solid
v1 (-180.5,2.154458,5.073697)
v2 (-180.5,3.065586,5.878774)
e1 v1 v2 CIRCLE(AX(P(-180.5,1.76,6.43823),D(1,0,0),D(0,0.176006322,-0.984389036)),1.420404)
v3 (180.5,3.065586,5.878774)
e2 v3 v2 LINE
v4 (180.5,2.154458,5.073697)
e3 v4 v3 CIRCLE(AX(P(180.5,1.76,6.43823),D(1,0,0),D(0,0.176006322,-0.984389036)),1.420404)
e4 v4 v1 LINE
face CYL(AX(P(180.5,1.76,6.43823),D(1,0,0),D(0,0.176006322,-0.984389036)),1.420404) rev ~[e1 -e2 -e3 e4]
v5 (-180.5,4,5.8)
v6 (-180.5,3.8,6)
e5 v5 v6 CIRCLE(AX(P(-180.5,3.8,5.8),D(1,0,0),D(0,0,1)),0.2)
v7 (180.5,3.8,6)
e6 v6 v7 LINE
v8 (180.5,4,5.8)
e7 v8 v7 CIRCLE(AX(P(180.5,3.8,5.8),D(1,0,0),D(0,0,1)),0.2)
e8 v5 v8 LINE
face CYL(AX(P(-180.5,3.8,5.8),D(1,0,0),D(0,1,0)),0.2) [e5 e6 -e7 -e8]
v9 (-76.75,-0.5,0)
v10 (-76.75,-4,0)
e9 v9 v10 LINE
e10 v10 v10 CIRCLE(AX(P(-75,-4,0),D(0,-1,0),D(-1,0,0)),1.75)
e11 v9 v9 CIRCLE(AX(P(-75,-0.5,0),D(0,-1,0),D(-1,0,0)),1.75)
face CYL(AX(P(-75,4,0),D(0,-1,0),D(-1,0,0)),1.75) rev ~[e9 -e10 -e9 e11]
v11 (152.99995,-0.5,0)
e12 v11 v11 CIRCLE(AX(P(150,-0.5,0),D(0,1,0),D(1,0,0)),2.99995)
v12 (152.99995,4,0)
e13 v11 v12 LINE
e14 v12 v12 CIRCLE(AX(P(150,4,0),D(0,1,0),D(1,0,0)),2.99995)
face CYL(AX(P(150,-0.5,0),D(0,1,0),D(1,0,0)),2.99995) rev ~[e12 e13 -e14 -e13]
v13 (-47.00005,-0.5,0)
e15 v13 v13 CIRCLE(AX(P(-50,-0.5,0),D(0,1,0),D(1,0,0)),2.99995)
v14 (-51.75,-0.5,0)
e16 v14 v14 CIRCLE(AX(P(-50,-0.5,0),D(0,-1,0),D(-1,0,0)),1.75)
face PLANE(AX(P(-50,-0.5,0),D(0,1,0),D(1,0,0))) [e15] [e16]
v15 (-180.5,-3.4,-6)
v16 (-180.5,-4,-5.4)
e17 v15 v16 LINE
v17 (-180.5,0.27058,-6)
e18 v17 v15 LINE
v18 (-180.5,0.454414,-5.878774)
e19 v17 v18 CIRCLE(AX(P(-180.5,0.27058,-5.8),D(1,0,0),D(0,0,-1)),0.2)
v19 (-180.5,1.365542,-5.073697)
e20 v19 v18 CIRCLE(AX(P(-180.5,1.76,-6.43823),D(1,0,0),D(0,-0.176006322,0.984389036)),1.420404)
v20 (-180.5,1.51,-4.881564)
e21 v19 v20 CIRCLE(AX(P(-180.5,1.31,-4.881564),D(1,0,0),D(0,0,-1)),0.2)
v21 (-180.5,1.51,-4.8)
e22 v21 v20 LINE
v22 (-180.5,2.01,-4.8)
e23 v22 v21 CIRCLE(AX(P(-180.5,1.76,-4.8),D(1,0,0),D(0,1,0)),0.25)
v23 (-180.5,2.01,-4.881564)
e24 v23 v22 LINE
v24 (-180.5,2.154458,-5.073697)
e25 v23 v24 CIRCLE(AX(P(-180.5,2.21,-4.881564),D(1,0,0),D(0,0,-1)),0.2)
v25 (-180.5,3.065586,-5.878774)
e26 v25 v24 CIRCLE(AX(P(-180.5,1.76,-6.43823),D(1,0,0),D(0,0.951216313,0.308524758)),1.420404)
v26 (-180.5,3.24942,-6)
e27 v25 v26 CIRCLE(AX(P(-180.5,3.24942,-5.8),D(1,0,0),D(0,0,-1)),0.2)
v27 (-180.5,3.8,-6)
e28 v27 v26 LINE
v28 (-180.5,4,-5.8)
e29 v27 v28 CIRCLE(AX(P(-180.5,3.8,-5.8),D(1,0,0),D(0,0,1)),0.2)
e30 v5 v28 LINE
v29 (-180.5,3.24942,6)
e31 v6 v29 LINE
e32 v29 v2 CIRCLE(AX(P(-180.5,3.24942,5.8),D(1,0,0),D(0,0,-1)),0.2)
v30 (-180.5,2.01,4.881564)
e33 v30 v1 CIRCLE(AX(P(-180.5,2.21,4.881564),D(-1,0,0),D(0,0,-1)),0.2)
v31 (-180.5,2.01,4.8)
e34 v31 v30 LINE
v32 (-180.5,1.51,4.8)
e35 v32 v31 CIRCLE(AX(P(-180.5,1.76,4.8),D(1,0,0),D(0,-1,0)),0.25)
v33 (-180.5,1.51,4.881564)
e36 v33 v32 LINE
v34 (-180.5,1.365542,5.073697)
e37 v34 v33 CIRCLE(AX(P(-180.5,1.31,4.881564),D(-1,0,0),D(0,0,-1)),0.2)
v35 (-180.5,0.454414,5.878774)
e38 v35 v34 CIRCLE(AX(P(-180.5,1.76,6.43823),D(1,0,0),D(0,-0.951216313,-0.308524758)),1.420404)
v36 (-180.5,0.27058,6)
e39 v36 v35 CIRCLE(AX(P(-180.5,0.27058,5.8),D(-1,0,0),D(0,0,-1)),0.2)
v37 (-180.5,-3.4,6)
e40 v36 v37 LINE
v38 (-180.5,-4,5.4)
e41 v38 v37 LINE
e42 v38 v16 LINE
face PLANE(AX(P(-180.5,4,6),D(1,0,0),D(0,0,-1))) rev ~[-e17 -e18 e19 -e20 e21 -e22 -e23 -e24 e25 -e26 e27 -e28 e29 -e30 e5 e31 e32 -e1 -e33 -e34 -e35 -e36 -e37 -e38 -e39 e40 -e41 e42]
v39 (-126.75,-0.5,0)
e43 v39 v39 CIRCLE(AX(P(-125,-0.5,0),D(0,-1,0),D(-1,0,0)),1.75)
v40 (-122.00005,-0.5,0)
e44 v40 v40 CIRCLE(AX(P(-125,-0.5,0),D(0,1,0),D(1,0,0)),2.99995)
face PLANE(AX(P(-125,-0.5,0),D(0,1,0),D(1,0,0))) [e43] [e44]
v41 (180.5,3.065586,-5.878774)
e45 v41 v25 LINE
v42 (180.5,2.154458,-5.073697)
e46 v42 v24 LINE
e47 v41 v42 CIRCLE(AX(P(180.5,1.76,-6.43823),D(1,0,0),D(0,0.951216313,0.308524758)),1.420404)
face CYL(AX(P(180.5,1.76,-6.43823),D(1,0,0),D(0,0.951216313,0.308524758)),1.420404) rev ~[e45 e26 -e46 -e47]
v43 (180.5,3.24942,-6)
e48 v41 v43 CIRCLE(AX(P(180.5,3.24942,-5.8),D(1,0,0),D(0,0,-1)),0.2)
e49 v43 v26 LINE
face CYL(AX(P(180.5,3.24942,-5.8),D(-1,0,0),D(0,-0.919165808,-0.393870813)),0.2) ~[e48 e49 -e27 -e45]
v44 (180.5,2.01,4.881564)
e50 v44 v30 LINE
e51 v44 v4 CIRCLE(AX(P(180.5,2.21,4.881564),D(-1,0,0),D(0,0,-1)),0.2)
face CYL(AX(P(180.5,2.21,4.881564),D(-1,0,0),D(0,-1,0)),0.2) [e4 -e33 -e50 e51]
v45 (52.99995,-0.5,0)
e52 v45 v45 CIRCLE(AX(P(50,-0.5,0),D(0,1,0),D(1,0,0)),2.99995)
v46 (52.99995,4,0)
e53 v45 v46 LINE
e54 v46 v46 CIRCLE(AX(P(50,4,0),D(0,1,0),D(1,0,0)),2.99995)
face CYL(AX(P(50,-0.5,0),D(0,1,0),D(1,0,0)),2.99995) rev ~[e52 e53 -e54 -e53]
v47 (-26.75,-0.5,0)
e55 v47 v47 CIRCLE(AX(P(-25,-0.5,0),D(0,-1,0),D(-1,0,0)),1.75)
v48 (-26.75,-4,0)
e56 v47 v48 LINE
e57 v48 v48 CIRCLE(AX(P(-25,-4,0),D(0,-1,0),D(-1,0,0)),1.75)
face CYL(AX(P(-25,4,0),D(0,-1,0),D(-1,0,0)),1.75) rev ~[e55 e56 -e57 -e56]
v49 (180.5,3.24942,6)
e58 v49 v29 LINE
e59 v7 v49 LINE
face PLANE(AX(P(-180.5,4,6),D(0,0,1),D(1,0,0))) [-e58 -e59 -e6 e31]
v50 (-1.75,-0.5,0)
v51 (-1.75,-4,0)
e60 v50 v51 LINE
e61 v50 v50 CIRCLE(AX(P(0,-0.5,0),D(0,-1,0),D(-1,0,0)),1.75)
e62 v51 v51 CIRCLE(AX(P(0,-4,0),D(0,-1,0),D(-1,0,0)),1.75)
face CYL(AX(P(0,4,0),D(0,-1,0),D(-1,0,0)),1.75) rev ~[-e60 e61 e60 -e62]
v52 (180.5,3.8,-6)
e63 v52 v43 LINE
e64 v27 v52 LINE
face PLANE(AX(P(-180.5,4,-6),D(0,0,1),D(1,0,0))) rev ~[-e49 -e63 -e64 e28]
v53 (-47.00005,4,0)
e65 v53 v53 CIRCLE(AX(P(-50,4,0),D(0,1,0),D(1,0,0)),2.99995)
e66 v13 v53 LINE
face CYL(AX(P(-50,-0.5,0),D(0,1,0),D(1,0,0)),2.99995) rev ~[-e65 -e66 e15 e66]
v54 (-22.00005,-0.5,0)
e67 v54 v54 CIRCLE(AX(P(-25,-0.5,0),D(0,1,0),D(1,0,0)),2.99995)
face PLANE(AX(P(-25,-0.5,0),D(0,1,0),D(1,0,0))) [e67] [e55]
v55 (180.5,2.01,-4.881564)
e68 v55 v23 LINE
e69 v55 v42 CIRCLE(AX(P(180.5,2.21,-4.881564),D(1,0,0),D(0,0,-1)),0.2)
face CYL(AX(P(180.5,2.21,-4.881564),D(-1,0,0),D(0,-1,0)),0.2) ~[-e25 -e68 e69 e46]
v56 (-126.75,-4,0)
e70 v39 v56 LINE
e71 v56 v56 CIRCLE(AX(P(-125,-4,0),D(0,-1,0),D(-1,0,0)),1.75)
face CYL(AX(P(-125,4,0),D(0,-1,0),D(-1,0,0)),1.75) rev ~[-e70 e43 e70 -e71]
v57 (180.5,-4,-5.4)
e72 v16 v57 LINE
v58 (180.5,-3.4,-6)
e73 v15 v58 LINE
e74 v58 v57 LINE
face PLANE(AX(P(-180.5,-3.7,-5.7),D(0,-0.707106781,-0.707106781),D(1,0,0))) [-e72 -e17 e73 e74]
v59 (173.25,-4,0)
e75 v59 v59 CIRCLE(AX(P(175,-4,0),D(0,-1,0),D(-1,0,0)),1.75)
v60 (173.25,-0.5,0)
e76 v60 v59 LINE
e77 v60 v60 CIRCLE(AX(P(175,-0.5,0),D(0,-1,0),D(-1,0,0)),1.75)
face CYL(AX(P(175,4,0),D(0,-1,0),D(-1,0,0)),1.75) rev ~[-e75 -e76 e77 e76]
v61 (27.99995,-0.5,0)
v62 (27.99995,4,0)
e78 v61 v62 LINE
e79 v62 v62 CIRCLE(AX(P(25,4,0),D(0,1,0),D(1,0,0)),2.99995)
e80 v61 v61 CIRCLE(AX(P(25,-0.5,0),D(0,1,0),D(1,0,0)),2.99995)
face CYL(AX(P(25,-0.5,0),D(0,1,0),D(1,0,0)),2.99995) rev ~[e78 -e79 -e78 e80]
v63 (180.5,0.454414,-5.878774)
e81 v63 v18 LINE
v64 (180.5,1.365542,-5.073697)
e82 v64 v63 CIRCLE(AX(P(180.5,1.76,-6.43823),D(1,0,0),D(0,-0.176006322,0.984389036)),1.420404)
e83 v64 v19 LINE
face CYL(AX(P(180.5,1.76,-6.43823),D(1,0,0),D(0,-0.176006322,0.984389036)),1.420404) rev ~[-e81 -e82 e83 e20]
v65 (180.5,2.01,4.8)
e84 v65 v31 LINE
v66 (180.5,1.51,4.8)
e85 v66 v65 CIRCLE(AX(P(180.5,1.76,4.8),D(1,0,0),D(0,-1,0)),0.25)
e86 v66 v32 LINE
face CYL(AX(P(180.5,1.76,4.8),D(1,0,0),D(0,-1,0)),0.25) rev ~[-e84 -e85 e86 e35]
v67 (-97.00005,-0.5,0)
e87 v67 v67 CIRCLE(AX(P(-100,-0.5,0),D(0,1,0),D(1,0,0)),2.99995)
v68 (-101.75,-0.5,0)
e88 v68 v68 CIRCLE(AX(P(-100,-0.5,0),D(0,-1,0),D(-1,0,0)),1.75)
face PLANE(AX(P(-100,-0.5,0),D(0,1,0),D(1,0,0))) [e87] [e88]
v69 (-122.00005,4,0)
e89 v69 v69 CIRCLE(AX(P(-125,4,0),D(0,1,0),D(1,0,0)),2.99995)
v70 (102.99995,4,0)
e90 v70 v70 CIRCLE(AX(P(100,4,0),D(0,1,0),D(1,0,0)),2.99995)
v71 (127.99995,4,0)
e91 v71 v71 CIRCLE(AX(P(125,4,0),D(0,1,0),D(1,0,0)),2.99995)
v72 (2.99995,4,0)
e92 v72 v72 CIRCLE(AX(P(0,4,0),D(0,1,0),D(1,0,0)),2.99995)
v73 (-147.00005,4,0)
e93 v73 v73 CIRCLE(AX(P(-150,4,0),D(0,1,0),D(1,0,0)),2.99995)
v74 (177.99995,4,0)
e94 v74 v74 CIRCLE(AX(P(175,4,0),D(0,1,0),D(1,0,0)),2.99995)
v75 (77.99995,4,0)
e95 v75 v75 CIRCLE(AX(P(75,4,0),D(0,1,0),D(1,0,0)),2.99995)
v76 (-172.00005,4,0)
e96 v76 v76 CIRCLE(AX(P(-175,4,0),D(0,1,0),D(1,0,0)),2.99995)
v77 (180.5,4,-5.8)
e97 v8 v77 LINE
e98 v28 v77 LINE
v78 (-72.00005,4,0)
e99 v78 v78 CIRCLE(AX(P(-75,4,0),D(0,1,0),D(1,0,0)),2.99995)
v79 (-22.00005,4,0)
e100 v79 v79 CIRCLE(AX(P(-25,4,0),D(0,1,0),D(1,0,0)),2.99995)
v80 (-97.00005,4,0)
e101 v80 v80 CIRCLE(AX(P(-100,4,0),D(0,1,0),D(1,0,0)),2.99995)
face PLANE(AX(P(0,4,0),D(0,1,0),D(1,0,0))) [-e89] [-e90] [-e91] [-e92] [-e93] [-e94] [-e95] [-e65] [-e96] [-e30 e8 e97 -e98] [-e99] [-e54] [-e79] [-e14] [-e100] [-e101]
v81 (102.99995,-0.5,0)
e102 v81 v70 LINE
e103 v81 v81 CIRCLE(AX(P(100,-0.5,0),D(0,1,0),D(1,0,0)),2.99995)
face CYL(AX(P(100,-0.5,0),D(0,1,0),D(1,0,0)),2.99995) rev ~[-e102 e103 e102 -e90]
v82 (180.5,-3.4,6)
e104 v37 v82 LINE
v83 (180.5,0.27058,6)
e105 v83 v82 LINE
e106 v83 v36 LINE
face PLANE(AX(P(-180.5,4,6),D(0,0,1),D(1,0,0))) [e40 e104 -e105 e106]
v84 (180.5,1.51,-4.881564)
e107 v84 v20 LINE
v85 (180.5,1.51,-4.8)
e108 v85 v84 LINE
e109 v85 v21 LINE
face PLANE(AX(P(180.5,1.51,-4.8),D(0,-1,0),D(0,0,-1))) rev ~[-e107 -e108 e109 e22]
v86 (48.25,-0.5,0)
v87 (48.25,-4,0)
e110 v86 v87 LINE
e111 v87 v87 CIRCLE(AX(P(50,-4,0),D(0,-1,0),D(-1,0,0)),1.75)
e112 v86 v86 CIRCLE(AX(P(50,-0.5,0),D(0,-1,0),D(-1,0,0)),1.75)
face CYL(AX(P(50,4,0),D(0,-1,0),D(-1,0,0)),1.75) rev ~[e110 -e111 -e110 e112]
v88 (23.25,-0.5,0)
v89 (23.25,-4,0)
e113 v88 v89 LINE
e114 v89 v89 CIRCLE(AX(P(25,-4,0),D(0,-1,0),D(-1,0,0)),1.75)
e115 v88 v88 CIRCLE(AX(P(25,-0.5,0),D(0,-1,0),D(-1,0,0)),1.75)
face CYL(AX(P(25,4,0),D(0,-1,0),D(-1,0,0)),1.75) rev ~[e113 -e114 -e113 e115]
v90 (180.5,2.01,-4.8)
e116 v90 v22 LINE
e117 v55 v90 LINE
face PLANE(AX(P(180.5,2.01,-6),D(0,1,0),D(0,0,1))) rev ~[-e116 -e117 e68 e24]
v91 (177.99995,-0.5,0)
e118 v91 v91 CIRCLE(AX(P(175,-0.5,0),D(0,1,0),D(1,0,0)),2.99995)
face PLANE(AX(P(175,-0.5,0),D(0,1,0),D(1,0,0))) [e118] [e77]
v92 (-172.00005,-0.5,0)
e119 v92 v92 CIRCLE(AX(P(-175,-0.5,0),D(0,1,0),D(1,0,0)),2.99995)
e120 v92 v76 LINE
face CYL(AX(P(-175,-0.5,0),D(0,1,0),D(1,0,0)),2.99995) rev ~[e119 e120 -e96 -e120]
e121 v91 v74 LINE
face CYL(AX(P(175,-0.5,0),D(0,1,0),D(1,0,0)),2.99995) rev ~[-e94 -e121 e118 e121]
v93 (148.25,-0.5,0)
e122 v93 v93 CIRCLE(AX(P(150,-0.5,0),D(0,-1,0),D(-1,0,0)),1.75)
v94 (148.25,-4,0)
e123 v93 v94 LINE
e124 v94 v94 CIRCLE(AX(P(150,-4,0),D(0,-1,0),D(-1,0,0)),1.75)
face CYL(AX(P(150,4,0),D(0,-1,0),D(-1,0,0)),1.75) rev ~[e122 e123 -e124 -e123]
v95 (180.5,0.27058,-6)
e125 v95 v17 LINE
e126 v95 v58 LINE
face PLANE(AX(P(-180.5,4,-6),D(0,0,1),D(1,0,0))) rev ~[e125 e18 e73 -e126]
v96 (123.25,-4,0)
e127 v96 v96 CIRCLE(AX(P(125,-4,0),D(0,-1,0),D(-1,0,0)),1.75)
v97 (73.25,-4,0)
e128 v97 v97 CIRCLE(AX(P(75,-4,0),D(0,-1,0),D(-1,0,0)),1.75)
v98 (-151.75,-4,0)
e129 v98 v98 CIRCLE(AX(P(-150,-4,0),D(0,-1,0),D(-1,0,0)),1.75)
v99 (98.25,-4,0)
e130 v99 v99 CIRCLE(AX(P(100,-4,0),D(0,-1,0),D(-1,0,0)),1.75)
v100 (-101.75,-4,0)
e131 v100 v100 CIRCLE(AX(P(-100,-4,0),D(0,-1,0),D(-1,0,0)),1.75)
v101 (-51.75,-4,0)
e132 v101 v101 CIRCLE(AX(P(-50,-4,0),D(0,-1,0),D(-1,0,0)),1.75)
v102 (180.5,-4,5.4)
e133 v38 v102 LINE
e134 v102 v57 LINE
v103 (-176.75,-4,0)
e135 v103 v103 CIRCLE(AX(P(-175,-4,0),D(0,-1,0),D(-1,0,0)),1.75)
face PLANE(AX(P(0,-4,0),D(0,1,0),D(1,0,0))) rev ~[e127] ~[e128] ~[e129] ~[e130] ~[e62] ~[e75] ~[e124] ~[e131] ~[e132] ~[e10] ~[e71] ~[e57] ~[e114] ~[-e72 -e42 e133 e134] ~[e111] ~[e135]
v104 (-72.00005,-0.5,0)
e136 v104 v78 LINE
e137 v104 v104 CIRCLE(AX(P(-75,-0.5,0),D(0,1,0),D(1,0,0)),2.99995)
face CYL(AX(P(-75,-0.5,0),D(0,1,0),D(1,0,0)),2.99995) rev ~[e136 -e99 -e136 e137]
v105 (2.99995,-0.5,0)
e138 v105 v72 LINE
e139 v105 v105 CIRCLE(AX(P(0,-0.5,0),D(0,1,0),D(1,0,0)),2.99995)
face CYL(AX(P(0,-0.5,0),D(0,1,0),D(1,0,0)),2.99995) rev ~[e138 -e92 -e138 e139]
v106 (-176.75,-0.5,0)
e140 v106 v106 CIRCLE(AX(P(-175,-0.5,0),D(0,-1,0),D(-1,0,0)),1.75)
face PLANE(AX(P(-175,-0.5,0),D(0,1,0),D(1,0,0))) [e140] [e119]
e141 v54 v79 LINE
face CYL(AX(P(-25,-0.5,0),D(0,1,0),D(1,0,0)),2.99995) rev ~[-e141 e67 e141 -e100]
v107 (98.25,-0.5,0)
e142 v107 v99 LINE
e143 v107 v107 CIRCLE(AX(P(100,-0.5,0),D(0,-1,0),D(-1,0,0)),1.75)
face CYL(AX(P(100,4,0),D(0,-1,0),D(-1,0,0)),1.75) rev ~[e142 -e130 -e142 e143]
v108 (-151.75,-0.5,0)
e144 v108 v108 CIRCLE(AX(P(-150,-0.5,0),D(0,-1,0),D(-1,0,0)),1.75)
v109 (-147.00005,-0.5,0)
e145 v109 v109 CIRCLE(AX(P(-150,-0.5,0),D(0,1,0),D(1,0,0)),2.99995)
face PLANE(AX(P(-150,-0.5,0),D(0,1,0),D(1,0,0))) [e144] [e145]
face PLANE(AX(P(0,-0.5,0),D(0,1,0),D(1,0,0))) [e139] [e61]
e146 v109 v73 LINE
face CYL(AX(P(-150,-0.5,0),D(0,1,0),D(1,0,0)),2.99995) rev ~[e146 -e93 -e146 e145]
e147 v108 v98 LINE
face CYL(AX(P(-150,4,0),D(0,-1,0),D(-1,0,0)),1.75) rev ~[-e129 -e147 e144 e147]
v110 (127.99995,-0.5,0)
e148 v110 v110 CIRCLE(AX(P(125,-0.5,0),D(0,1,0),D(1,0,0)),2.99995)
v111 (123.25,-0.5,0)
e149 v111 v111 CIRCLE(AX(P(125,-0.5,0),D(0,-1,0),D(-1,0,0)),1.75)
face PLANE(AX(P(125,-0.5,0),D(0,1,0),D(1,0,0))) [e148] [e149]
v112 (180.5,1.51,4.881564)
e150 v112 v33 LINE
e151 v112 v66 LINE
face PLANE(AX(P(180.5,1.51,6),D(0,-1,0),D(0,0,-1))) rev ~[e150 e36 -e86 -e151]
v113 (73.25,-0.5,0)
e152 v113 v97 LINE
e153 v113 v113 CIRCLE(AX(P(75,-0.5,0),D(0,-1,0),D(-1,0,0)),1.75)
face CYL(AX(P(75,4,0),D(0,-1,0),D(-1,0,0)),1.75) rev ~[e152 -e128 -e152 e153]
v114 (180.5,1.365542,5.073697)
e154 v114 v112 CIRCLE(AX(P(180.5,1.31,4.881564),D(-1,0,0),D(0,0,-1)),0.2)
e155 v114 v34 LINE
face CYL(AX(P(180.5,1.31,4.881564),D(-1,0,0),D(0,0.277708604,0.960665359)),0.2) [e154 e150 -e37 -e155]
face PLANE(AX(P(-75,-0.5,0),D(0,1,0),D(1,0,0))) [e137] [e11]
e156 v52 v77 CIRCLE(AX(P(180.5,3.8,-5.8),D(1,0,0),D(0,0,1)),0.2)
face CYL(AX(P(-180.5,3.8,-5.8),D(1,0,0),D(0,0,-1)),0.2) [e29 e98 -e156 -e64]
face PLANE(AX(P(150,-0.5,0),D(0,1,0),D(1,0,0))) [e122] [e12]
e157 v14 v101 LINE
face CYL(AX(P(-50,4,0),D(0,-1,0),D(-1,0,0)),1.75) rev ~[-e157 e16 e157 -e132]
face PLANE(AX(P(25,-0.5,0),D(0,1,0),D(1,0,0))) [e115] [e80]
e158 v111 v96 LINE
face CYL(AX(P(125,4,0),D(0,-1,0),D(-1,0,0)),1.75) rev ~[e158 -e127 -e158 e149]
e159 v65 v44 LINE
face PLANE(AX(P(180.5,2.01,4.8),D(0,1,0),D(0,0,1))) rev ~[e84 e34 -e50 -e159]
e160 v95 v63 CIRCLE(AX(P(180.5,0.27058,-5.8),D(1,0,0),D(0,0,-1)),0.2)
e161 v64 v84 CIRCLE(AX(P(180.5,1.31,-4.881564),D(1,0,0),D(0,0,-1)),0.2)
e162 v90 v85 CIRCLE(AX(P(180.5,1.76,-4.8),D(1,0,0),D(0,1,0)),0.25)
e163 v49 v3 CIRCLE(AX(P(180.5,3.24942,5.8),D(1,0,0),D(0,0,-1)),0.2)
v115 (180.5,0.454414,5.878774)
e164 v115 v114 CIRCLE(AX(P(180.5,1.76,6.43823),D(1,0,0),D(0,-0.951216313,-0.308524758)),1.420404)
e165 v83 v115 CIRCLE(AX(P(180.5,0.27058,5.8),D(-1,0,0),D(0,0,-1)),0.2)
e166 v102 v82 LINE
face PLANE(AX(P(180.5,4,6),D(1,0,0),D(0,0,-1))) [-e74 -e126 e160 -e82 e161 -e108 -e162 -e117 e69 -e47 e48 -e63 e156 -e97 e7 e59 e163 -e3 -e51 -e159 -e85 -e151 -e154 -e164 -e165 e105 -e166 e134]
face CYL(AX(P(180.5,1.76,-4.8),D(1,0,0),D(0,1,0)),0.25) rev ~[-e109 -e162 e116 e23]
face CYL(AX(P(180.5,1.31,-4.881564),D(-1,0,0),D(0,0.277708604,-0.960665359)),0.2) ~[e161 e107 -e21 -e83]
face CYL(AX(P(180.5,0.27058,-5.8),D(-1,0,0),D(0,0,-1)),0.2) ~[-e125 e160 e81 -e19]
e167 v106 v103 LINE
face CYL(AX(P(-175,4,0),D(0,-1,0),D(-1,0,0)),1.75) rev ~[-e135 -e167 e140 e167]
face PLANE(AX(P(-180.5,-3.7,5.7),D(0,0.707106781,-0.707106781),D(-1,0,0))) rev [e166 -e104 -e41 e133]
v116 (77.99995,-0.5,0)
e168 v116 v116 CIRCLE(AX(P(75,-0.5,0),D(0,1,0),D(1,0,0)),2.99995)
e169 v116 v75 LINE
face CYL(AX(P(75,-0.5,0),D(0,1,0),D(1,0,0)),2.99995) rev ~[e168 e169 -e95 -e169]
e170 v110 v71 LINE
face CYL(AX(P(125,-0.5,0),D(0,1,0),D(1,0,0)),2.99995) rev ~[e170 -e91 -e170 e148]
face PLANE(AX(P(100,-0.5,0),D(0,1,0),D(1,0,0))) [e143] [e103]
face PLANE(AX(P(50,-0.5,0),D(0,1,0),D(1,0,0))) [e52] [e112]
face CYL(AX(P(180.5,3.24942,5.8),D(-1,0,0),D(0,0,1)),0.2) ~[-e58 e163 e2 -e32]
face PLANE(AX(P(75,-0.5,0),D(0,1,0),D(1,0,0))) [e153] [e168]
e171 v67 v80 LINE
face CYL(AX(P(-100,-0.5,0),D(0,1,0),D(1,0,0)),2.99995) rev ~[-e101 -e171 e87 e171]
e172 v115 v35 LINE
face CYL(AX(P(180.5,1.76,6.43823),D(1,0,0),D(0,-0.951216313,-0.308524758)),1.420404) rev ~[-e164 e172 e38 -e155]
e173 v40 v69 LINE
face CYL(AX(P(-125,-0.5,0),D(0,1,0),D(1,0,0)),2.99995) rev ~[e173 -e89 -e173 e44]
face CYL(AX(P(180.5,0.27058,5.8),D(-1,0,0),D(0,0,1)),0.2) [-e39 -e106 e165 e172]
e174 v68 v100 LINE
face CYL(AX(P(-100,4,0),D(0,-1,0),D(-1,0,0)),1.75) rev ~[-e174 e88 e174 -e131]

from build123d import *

# Parameters (mm, degrees)
SKETCH_1_W                   = 361
SKETCH_1_H                   = 12
EXTRUDE_1_DEPTH              = 8
CUT_EXTRUDE_1_DEPTH          = 362.072014978
CUT_EXTRUDE_2_DEPTH          = 362.072014978
CUT_EXTRUDE_3_DEPTH          = 362.072014978
CUT_EXTRUDE_4_DEPTH          = 362.072014978
CUT_EXTRUDE_5_DEPTH          = 362.072014978
CUT_EXTRUDE_6_DEPTH          = 362.072014978
HOLE_WIZARD_M3_1_D           = 3.5
HOLE_WIZARD_M3_1_CBORE_D     = 5.9999
HOLE_WIZARD_M3_1_CBORE_DEPTH = 4.5
CHAMFER_1_SIZE               = 0.6
FILLET_1_R                   = 0.2


with BuildPart() as part:
    # 草图1 → 凸台-拉伸1 (new body)
    with BuildSketch(Plane(origin=(0, 4, 0), x_dir=(1, 0, 0), z_dir=(0, 1, 0))):
        Rectangle(SKETCH_1_W, SKETCH_1_H)
    extrude(amount=-EXTRUDE_1_DEPTH)

    # 草图2 → 切除-拉伸1 (cut, through all)
    with BuildSketch(Plane(origin=(180.5, 0, 0), x_dir=(0, 0, -1), z_dir=(1, 0, 0))):
        with BuildLine():
            Line((6, 1.51), (6, 2.01))
            Line((6, 2.01), (4.8, 2.01))
            ThreePointArc((4.8, 2.01), (4.55, 1.76), (4.8, 1.51))
            Line((4.8, 1.51), (6, 1.51))
        make_face()
    extrude(amount=-CUT_EXTRUDE_1_DEPTH, mode=Mode.SUBTRACT)

    # 草图3 → 切除-拉伸2 (cut, through all)
    with BuildSketch(Plane(origin=(180.5, 0, 0), x_dir=(0, 0, -1), z_dir=(1, 0, 0))):
        with BuildLine():
            Line((6, 2.01), (6, 3.111111))
            ThreePointArc((6, 3.111111), (5.367595703, 2.693428684), (5.04, 2.01))
            Line((5.04, 2.01), (6, 2.01))
        make_face()
    extrude(amount=-CUT_EXTRUDE_2_DEPTH, mode=Mode.SUBTRACT)

    # 草图4 → 切除-拉伸3 (cut, through all)
    with BuildSketch(Plane(origin=(180.5, 0, 0), x_dir=(0, 0, -1), z_dir=(1, 0, 0))):
        with BuildLine():
            Line((6, 1.51), (5.04, 1.51))
            ThreePointArc((5.04, 1.51), (5.367595703, 0.826571316), (6, 0.408889))
            Line((6, 0.408889), (6, 1.51))
        make_face()
    extrude(amount=-CUT_EXTRUDE_3_DEPTH, mode=Mode.SUBTRACT)

    # 草图5 → 切除-拉伸4 (cut, through all)
    with BuildSketch(Plane(origin=(180.5, 0, 0), x_dir=(0, 0, -1), z_dir=(1, 0, 0))):
        with BuildLine():
            Line((-6, 2.01), (-6, 1.51))
            Line((-6, 1.51), (-4.8, 1.51))
            ThreePointArc((-4.8, 1.51), (-4.55, 1.76), (-4.8, 2.01))
            Line((-4.8, 2.01), (-6, 2.01))
        make_face()
    extrude(amount=-CUT_EXTRUDE_4_DEPTH, mode=Mode.SUBTRACT)

    # 草图6 → 切除-拉伸5 (cut, through all)
    with BuildSketch(Plane(origin=(180.5, 0, 0), x_dir=(0, 0, -1), z_dir=(1, 0, 0))):
        with BuildLine():
            Line((-6, 1.51), (-6, 0.408889))
            ThreePointArc((-6, 0.408889), (-5.367595703, 0.826571316), (-5.04, 1.51))
            Line((-5.04, 1.51), (-6, 1.51))
        make_face()
    extrude(amount=-CUT_EXTRUDE_5_DEPTH, mode=Mode.SUBTRACT)

    # 草图7 → 切除-拉伸6 (cut, through all)
    with BuildSketch(Plane(origin=(180.5, 0, 0), x_dir=(0, 0, -1), z_dir=(1, 0, 0))):
        with BuildLine():
            Line((-6, 2.01), (-5.04, 2.01))
            ThreePointArc((-5.04, 2.01), (-5.367595703, 2.693428684), (-6, 3.111111))
            Line((-6, 3.111111), (-6, 2.01))
        make_face()
    extrude(amount=-CUT_EXTRUDE_6_DEPTH, mode=Mode.SUBTRACT)

    # M3 六角头机械螺钉的柱形沉头孔1 (through all)
    with Locations(Plane(origin=(0, 4, 0), x_dir=(1, 0, 0), z_dir=(0, 1, 0))):
        with Locations((-175, 0), (-150, 0), (-125, 0), (-100, 0), (-75, 0), (-50, 0), (-25, 0), (0, 0), (25, 0), (50, 0), (75, 0), (100, 0), (125, 0), (150, 0), (175, 0)):
            CounterBoreHole(HOLE_WIZARD_M3_1_D / 2, HOLE_WIZARD_M3_1_CBORE_D / 2, HOLE_WIZARD_M3_1_CBORE_DEPTH)

    # 倒角1
    chamfer_1_edges = [part.edges().sort_by_distance(p)[0] for p in [
        (0, -4, -6),
        (0, -4, 6),
    ]]
    chamfer(chamfer_1_edges, length=CHAMFER_1_SIZE)

    # 圆角1
    fillet_1_edges = [part.edges().sort_by_distance(p)[0] for p in [
        (0, 2.01, -5.04),
        (0, 3.111111, -6),
        (0, 0.408889, -6),
        (0, 1.51, -5.04),
        (0, 4, -6),
        (0, 4, 6),
        (0, 1.51, 5.04),
        (0, 0.408889, 6),
        (0, 3.111111, 6),
        (0, 2.01, 5.04),
    ]]
    fillet(fillet_1_edges, radius=FILLET_1_R)


solid = part.part
